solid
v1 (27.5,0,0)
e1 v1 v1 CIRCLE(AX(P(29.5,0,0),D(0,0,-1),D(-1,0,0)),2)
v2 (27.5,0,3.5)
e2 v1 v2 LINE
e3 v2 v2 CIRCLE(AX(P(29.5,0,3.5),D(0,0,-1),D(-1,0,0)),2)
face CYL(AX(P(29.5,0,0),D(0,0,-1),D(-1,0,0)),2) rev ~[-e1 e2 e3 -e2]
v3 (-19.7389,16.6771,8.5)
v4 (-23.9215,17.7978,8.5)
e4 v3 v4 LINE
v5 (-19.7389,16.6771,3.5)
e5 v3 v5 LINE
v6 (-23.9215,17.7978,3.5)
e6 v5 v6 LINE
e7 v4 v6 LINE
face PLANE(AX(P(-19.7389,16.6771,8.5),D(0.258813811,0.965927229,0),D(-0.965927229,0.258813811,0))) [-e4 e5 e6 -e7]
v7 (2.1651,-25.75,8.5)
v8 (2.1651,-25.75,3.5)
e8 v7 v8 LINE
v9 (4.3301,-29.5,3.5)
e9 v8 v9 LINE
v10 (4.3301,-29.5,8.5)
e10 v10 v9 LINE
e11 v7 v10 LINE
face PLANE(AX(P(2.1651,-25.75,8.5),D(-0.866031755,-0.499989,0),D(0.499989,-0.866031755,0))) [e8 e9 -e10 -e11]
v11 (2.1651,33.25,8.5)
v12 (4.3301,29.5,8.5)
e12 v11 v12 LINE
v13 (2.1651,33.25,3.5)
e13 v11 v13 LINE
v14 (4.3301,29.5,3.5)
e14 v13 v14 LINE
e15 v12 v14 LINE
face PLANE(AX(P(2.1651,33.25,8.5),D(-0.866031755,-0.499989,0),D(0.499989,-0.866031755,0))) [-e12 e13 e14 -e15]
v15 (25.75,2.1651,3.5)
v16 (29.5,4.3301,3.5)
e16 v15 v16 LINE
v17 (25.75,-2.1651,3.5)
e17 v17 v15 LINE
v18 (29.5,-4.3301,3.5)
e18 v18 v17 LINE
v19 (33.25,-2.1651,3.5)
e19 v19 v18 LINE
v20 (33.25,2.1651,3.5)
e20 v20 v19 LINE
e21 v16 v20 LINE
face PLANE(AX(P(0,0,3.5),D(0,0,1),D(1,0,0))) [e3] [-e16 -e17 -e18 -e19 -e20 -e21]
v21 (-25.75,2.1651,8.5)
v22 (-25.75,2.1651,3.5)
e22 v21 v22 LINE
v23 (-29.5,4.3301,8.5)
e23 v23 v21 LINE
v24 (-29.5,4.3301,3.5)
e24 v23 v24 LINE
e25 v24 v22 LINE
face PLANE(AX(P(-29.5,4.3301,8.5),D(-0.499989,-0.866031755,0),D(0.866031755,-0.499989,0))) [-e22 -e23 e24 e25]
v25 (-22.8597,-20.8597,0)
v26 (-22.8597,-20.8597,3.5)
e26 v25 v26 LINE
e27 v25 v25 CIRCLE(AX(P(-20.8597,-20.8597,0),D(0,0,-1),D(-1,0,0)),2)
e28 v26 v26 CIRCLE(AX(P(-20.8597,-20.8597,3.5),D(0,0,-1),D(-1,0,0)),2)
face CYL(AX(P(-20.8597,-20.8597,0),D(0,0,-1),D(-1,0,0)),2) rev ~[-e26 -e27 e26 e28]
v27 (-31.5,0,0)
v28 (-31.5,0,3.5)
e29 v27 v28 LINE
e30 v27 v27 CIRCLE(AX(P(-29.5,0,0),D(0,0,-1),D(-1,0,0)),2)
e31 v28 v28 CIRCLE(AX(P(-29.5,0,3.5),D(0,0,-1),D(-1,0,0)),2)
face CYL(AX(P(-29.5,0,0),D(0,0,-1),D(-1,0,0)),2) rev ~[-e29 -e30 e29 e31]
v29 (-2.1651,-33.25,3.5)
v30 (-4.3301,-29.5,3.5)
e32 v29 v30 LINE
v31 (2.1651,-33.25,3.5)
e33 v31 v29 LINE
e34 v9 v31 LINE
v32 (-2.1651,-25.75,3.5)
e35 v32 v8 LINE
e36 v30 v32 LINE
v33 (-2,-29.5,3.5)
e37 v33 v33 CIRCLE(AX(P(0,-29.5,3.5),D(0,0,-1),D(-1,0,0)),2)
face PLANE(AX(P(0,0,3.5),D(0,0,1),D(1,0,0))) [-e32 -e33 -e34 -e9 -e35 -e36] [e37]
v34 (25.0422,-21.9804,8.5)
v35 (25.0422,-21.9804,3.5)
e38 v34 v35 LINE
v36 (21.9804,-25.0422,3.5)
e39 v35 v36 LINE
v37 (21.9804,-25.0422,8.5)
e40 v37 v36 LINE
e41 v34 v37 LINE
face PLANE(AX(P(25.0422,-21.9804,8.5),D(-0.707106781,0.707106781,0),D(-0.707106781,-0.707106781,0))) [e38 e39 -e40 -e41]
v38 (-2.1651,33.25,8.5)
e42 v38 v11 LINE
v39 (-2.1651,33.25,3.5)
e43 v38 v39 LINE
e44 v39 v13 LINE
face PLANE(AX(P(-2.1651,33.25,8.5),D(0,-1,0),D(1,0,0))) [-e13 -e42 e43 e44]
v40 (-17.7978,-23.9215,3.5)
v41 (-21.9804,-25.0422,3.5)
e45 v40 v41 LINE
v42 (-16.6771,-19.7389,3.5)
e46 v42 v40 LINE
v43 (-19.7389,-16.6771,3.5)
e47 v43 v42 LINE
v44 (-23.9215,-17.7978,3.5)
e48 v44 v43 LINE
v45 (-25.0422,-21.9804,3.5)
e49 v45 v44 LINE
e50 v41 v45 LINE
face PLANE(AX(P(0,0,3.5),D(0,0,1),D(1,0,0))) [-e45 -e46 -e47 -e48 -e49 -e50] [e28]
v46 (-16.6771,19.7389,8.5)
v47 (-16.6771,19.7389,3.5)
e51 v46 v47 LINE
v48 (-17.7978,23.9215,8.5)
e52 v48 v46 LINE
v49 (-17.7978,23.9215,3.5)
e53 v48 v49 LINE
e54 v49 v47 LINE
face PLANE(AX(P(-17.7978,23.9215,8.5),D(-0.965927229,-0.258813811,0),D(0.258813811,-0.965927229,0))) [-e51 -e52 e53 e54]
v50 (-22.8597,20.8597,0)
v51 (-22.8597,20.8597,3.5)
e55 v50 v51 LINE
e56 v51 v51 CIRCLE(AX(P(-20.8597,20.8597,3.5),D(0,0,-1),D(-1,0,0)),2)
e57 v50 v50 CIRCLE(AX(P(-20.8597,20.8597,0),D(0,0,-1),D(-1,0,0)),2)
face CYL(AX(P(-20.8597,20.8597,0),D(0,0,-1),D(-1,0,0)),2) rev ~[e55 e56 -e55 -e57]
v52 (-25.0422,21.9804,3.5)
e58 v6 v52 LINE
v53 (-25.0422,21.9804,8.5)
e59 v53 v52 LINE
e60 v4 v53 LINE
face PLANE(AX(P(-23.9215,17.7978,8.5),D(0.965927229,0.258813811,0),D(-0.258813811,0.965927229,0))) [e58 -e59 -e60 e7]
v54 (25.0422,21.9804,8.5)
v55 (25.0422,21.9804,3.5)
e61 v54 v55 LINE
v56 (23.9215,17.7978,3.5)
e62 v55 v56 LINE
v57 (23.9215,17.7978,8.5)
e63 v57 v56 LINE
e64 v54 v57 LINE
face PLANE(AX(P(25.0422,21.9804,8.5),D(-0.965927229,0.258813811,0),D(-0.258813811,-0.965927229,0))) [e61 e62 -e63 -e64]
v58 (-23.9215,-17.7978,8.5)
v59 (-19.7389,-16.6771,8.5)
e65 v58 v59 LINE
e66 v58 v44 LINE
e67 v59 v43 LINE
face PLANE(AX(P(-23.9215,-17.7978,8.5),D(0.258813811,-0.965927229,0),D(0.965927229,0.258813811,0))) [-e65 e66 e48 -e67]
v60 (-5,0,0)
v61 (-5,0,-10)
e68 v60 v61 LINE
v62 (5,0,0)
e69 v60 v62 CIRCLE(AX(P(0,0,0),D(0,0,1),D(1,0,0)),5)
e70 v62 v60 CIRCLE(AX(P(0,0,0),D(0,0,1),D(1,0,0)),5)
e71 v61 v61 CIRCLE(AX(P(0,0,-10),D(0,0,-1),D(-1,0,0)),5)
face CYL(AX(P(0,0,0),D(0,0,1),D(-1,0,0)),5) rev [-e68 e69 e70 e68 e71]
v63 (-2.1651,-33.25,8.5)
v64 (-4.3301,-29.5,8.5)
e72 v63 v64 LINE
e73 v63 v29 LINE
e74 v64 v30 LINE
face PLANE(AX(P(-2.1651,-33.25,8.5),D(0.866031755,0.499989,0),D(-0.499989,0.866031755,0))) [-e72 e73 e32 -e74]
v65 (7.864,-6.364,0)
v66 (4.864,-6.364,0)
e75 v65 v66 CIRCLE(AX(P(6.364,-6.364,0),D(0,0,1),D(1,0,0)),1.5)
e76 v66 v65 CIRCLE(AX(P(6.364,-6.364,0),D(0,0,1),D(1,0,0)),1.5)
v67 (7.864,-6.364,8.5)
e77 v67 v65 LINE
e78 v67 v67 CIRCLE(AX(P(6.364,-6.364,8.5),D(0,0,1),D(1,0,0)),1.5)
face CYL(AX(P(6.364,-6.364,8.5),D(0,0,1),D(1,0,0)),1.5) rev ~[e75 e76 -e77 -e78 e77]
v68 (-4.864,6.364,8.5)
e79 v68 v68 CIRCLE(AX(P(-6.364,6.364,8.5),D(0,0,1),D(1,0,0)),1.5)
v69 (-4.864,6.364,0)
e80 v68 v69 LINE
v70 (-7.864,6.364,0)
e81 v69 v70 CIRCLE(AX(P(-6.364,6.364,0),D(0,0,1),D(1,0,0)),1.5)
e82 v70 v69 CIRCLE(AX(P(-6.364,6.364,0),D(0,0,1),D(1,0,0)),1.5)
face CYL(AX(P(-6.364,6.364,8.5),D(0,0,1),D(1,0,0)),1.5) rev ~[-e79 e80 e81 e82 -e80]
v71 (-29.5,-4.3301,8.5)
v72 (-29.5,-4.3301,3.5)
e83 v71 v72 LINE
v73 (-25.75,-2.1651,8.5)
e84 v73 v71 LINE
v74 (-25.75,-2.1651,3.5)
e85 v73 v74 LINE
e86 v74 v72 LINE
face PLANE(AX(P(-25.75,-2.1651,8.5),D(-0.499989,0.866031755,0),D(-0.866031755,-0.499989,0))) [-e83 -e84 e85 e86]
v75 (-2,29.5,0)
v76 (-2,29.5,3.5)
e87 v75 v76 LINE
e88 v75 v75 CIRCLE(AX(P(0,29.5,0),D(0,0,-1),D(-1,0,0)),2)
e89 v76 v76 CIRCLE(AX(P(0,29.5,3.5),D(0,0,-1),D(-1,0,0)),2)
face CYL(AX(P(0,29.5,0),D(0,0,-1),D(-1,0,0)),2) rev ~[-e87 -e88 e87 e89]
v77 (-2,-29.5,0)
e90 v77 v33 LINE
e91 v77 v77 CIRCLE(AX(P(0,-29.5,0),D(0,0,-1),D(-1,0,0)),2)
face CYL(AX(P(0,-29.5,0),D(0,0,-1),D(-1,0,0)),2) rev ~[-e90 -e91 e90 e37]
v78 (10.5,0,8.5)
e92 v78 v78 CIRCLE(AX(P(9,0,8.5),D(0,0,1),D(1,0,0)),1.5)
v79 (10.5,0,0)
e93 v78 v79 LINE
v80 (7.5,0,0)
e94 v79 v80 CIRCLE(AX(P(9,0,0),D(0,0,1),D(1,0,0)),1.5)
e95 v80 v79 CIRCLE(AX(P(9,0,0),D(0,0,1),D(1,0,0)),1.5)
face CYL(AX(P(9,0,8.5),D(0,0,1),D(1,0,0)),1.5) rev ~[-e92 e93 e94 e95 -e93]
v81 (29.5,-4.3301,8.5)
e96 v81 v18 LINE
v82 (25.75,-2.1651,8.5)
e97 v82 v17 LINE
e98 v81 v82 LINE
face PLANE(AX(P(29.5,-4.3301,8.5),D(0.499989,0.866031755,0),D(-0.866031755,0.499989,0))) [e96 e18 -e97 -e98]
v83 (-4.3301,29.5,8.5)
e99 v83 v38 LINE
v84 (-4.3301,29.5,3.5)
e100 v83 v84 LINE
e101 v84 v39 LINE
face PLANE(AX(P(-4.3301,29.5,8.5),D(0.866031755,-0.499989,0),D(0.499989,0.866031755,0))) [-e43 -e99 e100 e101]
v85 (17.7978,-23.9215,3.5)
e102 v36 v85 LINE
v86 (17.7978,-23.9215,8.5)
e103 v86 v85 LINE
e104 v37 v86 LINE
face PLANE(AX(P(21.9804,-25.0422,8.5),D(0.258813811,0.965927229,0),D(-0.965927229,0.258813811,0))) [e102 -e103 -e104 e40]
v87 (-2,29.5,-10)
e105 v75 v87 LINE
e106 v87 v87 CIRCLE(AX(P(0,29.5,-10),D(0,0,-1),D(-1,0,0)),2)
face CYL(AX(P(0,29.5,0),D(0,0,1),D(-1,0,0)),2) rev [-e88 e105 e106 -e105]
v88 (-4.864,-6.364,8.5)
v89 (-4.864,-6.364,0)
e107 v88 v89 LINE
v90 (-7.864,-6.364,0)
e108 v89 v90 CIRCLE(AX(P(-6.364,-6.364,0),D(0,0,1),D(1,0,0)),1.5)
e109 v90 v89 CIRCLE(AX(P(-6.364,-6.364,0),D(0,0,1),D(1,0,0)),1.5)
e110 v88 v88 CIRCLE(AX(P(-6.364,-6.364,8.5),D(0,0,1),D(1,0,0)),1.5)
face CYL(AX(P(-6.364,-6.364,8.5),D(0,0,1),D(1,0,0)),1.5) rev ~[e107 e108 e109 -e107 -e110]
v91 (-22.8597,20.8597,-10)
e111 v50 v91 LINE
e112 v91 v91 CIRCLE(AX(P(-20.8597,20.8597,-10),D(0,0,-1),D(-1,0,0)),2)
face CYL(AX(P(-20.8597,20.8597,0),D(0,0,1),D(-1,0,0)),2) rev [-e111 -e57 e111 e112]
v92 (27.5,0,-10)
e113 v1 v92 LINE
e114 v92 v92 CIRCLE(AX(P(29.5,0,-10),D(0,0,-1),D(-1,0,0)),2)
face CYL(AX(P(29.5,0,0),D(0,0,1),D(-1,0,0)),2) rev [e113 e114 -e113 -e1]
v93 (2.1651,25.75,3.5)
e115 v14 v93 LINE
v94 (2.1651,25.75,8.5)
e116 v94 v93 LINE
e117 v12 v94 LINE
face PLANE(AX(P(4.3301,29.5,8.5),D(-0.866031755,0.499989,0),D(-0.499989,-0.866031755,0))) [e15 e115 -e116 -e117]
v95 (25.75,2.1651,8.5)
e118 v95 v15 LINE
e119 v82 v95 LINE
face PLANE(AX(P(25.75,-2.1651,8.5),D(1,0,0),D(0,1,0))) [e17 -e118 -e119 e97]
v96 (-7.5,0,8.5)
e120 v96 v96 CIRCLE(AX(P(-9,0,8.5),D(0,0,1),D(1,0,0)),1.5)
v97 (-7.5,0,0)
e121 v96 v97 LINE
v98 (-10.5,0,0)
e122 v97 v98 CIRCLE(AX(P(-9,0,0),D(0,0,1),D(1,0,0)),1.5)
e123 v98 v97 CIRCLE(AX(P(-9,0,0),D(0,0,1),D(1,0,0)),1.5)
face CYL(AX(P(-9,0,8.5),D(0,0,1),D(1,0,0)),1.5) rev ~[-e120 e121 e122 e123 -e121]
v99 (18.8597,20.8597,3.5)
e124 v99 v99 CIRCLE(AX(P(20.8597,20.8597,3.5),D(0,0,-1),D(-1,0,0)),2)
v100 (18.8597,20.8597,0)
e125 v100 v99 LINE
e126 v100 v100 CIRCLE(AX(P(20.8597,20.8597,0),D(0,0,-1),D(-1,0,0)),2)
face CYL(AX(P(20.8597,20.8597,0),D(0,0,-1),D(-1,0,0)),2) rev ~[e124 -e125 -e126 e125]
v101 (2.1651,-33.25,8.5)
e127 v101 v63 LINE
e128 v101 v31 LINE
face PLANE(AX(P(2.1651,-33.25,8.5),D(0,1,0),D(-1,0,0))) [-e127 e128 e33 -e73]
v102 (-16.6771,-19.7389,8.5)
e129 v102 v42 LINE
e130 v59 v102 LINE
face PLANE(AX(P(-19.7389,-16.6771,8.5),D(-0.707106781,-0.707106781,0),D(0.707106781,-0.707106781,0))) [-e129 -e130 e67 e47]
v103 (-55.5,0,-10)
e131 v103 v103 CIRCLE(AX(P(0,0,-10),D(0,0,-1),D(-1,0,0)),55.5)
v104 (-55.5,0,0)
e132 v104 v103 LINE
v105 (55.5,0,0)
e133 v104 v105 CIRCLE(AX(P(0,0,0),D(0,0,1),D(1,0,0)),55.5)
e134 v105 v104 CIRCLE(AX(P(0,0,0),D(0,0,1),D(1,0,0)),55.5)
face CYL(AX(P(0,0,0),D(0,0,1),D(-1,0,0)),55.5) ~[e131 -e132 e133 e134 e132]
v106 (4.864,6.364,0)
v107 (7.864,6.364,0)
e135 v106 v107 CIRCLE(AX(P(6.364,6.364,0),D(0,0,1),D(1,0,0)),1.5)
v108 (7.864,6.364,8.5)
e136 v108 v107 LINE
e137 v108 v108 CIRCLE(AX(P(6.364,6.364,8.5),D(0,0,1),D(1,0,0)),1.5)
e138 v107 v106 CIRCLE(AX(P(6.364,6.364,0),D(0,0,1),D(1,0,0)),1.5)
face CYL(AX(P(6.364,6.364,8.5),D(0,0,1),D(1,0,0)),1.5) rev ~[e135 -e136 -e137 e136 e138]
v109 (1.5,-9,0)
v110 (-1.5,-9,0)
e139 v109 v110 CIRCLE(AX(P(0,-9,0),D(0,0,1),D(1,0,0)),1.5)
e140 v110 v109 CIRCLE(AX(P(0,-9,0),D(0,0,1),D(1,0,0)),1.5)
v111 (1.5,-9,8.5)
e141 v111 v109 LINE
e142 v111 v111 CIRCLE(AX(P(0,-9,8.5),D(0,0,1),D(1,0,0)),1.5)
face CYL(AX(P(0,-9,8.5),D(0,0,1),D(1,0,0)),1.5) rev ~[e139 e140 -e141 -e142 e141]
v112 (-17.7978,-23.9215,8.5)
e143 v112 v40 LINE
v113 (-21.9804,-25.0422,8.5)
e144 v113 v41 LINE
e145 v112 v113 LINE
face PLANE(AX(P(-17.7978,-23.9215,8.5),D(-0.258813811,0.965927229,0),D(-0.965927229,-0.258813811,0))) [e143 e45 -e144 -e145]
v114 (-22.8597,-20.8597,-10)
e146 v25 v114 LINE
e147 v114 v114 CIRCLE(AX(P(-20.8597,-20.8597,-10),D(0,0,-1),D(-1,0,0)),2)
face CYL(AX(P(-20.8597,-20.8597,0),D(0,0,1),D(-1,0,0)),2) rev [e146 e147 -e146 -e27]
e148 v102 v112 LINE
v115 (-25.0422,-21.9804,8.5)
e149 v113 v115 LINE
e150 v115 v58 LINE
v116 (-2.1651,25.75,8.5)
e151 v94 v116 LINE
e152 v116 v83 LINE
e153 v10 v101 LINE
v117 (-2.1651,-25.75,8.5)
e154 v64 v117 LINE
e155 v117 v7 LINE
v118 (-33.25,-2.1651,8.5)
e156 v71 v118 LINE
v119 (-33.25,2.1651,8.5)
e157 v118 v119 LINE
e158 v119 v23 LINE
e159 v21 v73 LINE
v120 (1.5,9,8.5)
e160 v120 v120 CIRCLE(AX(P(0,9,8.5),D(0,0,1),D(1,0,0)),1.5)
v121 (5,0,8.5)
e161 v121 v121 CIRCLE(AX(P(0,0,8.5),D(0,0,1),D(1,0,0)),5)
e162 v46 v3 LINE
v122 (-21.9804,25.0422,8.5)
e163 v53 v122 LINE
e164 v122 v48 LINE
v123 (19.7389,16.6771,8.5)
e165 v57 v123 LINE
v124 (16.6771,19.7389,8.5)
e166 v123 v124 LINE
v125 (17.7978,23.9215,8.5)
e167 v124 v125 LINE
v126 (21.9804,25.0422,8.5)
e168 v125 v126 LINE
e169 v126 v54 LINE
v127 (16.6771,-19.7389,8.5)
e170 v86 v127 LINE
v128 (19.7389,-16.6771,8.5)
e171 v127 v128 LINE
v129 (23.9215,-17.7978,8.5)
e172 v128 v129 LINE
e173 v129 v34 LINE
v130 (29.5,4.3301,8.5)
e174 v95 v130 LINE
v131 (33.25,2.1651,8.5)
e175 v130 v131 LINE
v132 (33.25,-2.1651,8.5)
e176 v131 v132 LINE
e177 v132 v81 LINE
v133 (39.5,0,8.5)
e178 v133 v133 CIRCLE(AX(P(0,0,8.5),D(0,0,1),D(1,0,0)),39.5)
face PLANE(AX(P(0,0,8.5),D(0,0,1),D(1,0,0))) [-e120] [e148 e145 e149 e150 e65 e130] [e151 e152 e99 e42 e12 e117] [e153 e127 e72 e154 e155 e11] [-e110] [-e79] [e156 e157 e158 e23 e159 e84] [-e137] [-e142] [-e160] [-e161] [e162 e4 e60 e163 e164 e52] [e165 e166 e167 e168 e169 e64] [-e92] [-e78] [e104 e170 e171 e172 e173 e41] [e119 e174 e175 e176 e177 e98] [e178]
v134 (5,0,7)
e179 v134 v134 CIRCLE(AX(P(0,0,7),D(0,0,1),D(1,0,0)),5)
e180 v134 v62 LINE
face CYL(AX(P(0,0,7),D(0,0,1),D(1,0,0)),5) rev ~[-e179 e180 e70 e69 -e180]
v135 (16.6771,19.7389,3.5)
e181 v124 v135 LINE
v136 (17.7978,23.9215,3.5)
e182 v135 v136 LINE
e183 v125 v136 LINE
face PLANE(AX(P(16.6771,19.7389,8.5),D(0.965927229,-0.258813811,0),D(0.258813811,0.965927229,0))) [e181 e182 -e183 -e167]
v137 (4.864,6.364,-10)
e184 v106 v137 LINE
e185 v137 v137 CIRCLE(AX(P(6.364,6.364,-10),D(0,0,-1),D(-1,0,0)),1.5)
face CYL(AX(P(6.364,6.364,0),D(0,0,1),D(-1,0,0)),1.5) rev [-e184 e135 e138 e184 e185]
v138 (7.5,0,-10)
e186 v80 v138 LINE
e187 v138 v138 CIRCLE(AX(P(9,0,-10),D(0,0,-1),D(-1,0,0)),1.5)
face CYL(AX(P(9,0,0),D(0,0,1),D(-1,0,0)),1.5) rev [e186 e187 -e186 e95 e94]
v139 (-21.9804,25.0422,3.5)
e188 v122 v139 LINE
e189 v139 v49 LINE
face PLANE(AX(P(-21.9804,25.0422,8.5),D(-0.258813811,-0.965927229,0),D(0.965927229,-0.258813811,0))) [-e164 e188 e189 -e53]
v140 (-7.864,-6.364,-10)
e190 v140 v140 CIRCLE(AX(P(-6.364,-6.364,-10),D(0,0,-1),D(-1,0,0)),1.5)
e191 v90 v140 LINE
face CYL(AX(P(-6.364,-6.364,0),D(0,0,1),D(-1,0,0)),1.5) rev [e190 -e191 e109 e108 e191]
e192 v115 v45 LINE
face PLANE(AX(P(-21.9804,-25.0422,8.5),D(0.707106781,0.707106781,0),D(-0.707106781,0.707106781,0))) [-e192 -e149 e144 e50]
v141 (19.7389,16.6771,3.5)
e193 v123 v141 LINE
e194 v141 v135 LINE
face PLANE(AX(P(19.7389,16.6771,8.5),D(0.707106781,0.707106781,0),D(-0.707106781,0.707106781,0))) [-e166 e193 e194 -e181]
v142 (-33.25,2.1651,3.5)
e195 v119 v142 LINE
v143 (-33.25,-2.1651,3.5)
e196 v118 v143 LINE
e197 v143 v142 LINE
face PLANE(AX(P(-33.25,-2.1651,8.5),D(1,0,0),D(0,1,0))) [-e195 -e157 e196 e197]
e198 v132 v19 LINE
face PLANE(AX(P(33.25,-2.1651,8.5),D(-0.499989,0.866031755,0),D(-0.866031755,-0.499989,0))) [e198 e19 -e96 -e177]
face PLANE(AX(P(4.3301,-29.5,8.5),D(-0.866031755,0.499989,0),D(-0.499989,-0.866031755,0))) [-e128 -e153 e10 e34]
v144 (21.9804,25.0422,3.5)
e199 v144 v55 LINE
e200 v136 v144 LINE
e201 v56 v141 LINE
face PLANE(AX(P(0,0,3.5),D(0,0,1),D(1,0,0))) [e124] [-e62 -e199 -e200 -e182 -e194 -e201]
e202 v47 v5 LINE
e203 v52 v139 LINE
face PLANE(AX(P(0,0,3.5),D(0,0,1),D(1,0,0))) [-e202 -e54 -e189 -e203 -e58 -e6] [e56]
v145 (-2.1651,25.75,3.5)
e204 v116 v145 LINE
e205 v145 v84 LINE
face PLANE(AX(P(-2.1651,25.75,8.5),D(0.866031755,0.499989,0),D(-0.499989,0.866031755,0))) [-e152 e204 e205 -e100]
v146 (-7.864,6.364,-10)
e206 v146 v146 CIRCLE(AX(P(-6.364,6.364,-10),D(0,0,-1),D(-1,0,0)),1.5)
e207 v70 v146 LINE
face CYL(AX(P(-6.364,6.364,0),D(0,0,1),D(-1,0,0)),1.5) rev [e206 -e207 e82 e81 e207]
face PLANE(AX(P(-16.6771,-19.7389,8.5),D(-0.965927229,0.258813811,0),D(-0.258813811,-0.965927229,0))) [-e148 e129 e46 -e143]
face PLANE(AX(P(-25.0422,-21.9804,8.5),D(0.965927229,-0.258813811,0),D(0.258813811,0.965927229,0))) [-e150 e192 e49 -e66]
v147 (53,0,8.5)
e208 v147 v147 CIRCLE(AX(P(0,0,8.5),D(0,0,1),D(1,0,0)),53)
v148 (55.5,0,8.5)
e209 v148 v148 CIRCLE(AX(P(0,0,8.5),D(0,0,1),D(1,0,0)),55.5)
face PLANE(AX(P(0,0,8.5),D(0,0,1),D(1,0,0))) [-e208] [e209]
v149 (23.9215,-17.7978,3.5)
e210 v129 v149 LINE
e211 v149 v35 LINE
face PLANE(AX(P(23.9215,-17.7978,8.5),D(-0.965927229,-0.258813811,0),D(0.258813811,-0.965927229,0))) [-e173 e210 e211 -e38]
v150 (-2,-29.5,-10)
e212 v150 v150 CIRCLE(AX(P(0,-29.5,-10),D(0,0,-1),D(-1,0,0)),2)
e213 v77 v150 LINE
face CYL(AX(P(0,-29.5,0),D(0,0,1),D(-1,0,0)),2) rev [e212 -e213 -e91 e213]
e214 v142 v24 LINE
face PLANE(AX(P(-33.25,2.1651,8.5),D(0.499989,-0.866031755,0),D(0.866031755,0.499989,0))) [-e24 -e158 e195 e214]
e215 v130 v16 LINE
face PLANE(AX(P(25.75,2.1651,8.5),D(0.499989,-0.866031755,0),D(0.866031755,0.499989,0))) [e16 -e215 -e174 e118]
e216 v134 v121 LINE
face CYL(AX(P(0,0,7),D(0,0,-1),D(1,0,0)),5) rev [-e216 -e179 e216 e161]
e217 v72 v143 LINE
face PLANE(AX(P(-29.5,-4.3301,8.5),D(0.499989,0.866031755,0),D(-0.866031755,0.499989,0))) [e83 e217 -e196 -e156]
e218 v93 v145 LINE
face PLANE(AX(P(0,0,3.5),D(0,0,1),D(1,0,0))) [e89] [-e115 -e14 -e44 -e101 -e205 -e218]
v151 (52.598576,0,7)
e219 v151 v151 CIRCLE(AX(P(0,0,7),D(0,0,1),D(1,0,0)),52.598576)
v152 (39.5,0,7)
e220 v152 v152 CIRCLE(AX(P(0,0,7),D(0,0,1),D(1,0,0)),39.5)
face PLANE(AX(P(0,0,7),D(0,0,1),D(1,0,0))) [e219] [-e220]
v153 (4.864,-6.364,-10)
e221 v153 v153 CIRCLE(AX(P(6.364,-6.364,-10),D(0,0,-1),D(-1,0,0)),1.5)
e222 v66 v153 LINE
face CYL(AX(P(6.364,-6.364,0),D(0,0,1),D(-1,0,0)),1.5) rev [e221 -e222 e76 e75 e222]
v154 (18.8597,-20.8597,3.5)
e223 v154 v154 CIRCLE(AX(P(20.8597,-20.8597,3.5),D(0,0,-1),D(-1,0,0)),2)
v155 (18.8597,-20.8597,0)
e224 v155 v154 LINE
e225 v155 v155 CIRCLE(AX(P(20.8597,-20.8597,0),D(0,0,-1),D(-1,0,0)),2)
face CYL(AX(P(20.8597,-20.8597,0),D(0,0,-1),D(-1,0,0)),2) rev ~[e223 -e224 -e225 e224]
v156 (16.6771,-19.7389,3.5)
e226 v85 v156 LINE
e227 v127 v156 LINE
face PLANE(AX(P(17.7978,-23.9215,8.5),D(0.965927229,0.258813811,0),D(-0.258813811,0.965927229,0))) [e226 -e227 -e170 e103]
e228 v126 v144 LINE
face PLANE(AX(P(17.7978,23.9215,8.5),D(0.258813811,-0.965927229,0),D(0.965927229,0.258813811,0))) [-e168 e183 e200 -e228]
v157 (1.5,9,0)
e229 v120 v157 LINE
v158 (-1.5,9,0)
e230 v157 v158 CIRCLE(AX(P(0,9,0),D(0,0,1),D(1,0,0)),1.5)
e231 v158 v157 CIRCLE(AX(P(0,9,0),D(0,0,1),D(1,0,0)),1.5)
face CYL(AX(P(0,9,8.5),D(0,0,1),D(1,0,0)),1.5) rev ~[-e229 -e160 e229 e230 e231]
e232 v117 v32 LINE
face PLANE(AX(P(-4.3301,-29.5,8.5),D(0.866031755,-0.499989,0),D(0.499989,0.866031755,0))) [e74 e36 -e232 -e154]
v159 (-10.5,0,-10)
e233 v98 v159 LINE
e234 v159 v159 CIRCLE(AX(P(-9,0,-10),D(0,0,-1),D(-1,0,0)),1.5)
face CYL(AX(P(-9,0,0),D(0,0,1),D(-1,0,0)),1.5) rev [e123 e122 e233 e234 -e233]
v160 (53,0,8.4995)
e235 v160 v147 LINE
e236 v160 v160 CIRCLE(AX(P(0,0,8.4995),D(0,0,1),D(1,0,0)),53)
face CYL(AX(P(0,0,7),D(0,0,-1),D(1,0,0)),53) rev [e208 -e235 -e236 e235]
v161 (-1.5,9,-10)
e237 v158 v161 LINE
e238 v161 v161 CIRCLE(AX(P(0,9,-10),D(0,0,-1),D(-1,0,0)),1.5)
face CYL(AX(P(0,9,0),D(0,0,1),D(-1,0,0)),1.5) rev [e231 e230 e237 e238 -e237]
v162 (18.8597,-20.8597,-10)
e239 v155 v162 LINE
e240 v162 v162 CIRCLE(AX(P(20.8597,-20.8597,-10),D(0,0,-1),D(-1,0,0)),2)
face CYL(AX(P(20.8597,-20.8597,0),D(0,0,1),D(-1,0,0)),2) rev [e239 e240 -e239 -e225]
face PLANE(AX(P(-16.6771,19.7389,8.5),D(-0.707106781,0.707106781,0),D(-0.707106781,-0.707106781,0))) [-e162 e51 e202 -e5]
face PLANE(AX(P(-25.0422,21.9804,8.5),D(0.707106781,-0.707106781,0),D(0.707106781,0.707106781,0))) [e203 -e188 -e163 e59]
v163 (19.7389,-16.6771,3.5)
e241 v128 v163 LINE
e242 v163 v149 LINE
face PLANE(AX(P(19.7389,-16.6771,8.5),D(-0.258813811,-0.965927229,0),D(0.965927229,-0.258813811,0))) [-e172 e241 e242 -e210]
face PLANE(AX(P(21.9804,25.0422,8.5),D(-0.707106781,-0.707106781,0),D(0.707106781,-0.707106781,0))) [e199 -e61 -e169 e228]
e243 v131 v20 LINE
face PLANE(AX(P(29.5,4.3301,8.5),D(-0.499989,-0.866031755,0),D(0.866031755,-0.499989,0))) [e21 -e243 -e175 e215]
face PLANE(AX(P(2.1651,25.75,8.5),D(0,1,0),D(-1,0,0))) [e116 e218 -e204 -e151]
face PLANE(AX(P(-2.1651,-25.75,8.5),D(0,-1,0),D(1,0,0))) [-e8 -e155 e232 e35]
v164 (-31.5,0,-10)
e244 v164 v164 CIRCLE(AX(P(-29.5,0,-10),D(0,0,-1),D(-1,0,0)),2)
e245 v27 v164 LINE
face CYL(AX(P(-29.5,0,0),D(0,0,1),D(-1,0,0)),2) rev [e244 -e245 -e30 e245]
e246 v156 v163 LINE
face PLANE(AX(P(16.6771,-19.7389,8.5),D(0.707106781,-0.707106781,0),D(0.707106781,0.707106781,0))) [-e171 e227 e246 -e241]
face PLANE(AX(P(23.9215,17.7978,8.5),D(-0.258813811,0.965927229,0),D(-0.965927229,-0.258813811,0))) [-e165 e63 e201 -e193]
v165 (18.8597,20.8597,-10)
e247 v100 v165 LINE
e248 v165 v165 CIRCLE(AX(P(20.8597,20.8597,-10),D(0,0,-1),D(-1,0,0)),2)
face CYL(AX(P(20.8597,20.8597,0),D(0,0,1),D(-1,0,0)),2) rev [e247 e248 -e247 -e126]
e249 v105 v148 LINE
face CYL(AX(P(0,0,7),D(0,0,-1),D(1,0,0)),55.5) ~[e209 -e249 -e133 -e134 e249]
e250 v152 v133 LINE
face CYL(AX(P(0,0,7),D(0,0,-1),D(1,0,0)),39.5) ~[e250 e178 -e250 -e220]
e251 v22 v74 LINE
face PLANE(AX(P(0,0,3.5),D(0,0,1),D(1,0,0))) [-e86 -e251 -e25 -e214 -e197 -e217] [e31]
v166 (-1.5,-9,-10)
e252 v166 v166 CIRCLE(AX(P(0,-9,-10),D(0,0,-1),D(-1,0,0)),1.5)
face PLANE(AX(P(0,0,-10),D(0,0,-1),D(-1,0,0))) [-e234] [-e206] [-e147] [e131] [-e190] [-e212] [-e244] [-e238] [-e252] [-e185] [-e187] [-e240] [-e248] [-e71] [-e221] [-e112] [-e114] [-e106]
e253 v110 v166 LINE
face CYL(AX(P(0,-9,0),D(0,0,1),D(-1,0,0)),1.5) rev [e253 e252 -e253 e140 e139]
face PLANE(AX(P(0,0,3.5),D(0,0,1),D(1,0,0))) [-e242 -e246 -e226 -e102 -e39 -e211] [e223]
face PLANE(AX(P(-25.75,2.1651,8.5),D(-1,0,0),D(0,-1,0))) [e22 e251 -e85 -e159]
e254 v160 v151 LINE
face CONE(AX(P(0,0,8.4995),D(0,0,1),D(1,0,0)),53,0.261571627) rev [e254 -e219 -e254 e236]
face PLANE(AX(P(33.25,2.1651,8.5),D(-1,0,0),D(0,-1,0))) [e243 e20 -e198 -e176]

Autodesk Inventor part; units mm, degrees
ref_plane "YZ Plane" through (0, 0, 0) normal (1, 0, 0) x (0, 1, 0)
ref_plane "XZ Plane" through (0, 0, 0) normal (0, 1, 0) x (-1, 0, 0)
ref_plane "XY Plane" through (0, 0, 0) normal (0, 0, 1) x (1, 0, 0)
sketch "Sketch1" plane through (0, 0, 0) normal (0, 0, 1) x (1, 0, 0)
  circle A0 centre (0, 0) radius 40.5
  circle A1 centre (0, 0) radius 55.5
  dimension "d0" = 81
  dimension "d1" = 111
extrude "Extrusion1" add sketch "Sketch1" along normal blind 7 contours A0 | A1
sketch "Sketch2" plane through (0, 0, 7) normal (0, 0, 1) x (1, 0, 0)
  circle A0 centre (0, 0) radius 55.5 projected
  circle A1 centre (0, 0) radius 53
  dimension "d4" = 106
extrude "Extrusion2" add sketch "Sketch2" along normal blind 1.5
chamfer "Chamfer1" distance 1.5 angle 15 1 edges at (-53, 0, 7) measured on face at (-39.499, -35.3388, 8)
sketch "Sketch3" plane through (0, 0, 7) normal (0, 0, 1) x (1, 0, 0)
  circle A0 centre (0, 0) radius 5
  dimension "d10" = 10
extrude "Extrusion3" cut sketch "Sketch3" against normal through all
sketch "Sketch4" plane through (0, 0, 7) normal (0, 0, 1) x (1, 0, 0)
  circle A0 centre (0, 0) radius 5 projected
  circle A1 centre (0, 0) radius 39.5
  dimension "d13" = 79
extrude "Extrusion4" add sketch "Sketch4" along normal blind 1.5
sketch "Sketch5" plane through (0, 0, 8.5) normal (0, 0, 1) x (1, 0, 0)
  circle A0 centre (9, 0) radius 1.5
  circle A1 centre (6.364, 6.364) radius 1.5
  circle A2 centre (0, 9) radius 1.5
  circle A3 centre (-6.364, 6.364) radius 1.5
  circle A4 centre (-9, 0) radius 1.5
  circle A5 centre (-6.364, -6.364) radius 1.5
  circle A6 centre (0, -9) radius 1.5
  circle A7 centre (6.364, -6.364) radius 1.5
  point P0 (0, 0)
  dimension "d16" = 3
  dimension "d17" = 9
  dimension "d20" = 360
extrude "Extrusion5" cut sketch "Sketch5" against normal through all
sketch "Sketch7" plane through (0, 0, 0) normal (0, 0, -1) x (-1, 0, 0)
  circle A0 centre (29.5, 0) radius 2
  circle A1 centre (20.8597, 20.8597) radius 2
  circle A2 centre (0, 29.5) radius 2
  circle A3 centre (-20.8597, 20.8597) radius 2
  circle A4 centre (-29.5, 0) radius 2
  circle A5 centre (-20.8597, -20.8597) radius 2
  circle A6 centre (0, -29.5) radius 2
  circle A7 centre (20.8597, -20.8597) radius 2
  point P0 (0, 0)
  dimension "d30" = 4
  dimension "d31" = 29.5
  dimension "d34" = 360
extrude "Extrusion7" cut sketch "Sketch7" against normal through all
sketch "Sketch8" plane through (0, 0, 0) normal (0, 0, -1) x (-1, 0, 0)
  circle A0 centre (0, -29.5) radius 2 projected
  circle A1 centre (-29.5, 0) radius 2 projected
  circle A2 centre (0, 29.5) radius 2 projected
  circle A3 centre (29.5, 0) radius 2 projected
  circle A4 centre (20.8597, 20.8597) radius 2 projected
  circle A5 centre (-20.8597, 20.8597) radius 2 projected
  circle A6 centre (-20.8597, -20.8597) radius 2 projected
  circle A7 centre (20.8597, -20.8597) radius 2 projected
  circle A8 centre (0, -9) radius 1.5 projected
  circle A9 centre (9, 0) radius 1.5 projected
  circle A10 centre (0, 9) radius 1.5 projected
  circle A11 centre (-9, 0) radius 1.5 projected
  circle A12 centre (-6.364, 6.364) radius 1.5 projected
  circle A13 centre (6.364, 6.364) radius 1.5 projected
  circle A14 centre (6.364, -6.364) radius 1.5 projected
  circle A15 centre (-6.364, -6.364) radius 1.5 projected
  circle A16 centre (0, 0) radius 5 projected
  circle A17 centre (0, 0) radius 55.5 projected
extrude "Extrusion8" add sketch "Sketch8" along normal blind 10
sketch "Sketch9" plane through (0, 0, 8.5) normal (0, 0, 1) x (1, 0, 0)
  line L0 (-4.3301, 29.5) -> (-2.1651, 33.25)
  line L1 (-2.1651, 33.25) -> (2.1651, 33.25)
  line L2 (2.1651, 33.25) -> (4.3301, 29.5)
  line L3 (4.3301, 29.5) -> (2.1651, 25.75)
  line L4 (2.1651, 25.75) -> (-2.1651, 25.75)
  line L5 (-2.1651, 25.75) -> (-4.3301, 29.5)
  line L6 (-23.9215, 17.7978) -> (-25.0422, 21.9804)
  line L7 (-25.0422, 21.9804) -> (-21.9804, 25.0422)
  line L8 (-21.9804, 25.0422) -> (-17.7978, 23.9215)
  line L9 (-17.7978, 23.9215) -> (-16.6771, 19.7389)
  line L10 (-16.6771, 19.7389) -> (-19.7389, 16.6771)
  line L11 (-19.7389, 16.6771) -> (-23.9215, 17.7978)
  line L12 (-29.5, -4.3301) -> (-33.25, -2.1651)
  line L13 (-33.25, -2.1651) -> (-33.25, 2.1651)
  line L14 (-33.25, 2.1651) -> (-29.5, 4.3301)
  line L15 (-29.5, 4.3301) -> (-25.75, 2.1651)
  line L16 (-25.75, 2.1651) -> (-25.75, -2.1651)
  line L17 (-25.75, -2.1651) -> (-29.5, -4.3301)
  line L18 (-17.7978, -23.9215) -> (-21.9804, -25.0422)
  line L19 (-21.9804, -25.0422) -> (-25.0422, -21.9804)
  line L20 (-25.0422, -21.9804) -> (-23.9215, -17.7978)
  line L21 (-23.9215, -17.7978) -> (-19.7389, -16.6771)
  line L22 (-19.7389, -16.6771) -> (-16.6771, -19.7389)
  line L23 (-16.6771, -19.7389) -> (-17.7978, -23.9215)
  line L24 (4.3301, -29.5) -> (2.1651, -33.25)
  line L25 (2.1651, -33.25) -> (-2.1651, -33.25)
  line L26 (-2.1651, -33.25) -> (-4.3301, -29.5)
  line L27 (-4.3301, -29.5) -> (-2.1651, -25.75)
  line L28 (-2.1651, -25.75) -> (2.1651, -25.75)
  line L29 (2.1651, -25.75) -> (4.3301, -29.5)
  line L30 (23.9215, -17.7978) -> (25.0422, -21.9804)
  line L31 (25.0422, -21.9804) -> (21.9804, -25.0422)
  line L32 (21.9804, -25.0422) -> (17.7978, -23.9215)
  line L33 (17.7978, -23.9215) -> (16.6771, -19.7389)
  line L34 (16.6771, -19.7389) -> (19.7389, -16.6771)
  line L35 (19.7389, -16.6771) -> (23.9215, -17.7978)
  line L36 (29.5, 4.3301) -> (33.25, 2.1651)
  line L37 (33.25, 2.1651) -> (33.25, -2.1651)
  line L38 (33.25, -2.1651) -> (29.5, -4.3301)
  line L39 (29.5, -4.3301) -> (25.75, -2.1651)
  line L40 (25.75, -2.1651) -> (25.75, 2.1651)
  line L41 (25.75, 2.1651) -> (29.5, 4.3301)
  line L42 (17.7978, 23.9215) -> (21.9804, 25.0422)
  line L43 (21.9804, 25.0422) -> (25.0422, 21.9804)
  line L44 (25.0422, 21.9804) -> (23.9215, 17.7978)
  line L45 (23.9215, 17.7978) -> (19.7389, 16.6771)
  line L46 (19.7389, 16.6771) -> (16.6771, 19.7389)
  line L47 (16.6771, 19.7389) -> (17.7978, 23.9215)
  circle A0 centre (0, 29.5) radius 2 projected
  circle A1 centre (0, 0) radius 5 projected
  point P0 (-20.8597, 20.8597)
  point P1 (-29.5, 0)
  point P2 (-20.8597, -20.8597)
  point P3 (0, -29.5)
  point P4 (20.8597, -20.8597)
  point P5 (29.5, 0)
  point P6 (20.8597, 20.8597)
  dimension "d40" = 7.5
  dimension "d43" = 360
extrude "Extrusion9" cut sketch "Sketch9" against normal blind 5 contours L0 L1 L2 L3 L4 L5 | L6 L7 L8 L9 L10 L11 | L12 L13 L14 L15 L16 L17 | L18 L19 L20 L21 L22 L23 | L24 L25 L26 L27 L28 L29 | L30 L31 L32 L33 L34 L35 | L36 L37 L38 L39 L40 L41 | L42 L43 L44 L45 L46 L47 | A0
properties part number "CS03" material "ABS Plastic"
